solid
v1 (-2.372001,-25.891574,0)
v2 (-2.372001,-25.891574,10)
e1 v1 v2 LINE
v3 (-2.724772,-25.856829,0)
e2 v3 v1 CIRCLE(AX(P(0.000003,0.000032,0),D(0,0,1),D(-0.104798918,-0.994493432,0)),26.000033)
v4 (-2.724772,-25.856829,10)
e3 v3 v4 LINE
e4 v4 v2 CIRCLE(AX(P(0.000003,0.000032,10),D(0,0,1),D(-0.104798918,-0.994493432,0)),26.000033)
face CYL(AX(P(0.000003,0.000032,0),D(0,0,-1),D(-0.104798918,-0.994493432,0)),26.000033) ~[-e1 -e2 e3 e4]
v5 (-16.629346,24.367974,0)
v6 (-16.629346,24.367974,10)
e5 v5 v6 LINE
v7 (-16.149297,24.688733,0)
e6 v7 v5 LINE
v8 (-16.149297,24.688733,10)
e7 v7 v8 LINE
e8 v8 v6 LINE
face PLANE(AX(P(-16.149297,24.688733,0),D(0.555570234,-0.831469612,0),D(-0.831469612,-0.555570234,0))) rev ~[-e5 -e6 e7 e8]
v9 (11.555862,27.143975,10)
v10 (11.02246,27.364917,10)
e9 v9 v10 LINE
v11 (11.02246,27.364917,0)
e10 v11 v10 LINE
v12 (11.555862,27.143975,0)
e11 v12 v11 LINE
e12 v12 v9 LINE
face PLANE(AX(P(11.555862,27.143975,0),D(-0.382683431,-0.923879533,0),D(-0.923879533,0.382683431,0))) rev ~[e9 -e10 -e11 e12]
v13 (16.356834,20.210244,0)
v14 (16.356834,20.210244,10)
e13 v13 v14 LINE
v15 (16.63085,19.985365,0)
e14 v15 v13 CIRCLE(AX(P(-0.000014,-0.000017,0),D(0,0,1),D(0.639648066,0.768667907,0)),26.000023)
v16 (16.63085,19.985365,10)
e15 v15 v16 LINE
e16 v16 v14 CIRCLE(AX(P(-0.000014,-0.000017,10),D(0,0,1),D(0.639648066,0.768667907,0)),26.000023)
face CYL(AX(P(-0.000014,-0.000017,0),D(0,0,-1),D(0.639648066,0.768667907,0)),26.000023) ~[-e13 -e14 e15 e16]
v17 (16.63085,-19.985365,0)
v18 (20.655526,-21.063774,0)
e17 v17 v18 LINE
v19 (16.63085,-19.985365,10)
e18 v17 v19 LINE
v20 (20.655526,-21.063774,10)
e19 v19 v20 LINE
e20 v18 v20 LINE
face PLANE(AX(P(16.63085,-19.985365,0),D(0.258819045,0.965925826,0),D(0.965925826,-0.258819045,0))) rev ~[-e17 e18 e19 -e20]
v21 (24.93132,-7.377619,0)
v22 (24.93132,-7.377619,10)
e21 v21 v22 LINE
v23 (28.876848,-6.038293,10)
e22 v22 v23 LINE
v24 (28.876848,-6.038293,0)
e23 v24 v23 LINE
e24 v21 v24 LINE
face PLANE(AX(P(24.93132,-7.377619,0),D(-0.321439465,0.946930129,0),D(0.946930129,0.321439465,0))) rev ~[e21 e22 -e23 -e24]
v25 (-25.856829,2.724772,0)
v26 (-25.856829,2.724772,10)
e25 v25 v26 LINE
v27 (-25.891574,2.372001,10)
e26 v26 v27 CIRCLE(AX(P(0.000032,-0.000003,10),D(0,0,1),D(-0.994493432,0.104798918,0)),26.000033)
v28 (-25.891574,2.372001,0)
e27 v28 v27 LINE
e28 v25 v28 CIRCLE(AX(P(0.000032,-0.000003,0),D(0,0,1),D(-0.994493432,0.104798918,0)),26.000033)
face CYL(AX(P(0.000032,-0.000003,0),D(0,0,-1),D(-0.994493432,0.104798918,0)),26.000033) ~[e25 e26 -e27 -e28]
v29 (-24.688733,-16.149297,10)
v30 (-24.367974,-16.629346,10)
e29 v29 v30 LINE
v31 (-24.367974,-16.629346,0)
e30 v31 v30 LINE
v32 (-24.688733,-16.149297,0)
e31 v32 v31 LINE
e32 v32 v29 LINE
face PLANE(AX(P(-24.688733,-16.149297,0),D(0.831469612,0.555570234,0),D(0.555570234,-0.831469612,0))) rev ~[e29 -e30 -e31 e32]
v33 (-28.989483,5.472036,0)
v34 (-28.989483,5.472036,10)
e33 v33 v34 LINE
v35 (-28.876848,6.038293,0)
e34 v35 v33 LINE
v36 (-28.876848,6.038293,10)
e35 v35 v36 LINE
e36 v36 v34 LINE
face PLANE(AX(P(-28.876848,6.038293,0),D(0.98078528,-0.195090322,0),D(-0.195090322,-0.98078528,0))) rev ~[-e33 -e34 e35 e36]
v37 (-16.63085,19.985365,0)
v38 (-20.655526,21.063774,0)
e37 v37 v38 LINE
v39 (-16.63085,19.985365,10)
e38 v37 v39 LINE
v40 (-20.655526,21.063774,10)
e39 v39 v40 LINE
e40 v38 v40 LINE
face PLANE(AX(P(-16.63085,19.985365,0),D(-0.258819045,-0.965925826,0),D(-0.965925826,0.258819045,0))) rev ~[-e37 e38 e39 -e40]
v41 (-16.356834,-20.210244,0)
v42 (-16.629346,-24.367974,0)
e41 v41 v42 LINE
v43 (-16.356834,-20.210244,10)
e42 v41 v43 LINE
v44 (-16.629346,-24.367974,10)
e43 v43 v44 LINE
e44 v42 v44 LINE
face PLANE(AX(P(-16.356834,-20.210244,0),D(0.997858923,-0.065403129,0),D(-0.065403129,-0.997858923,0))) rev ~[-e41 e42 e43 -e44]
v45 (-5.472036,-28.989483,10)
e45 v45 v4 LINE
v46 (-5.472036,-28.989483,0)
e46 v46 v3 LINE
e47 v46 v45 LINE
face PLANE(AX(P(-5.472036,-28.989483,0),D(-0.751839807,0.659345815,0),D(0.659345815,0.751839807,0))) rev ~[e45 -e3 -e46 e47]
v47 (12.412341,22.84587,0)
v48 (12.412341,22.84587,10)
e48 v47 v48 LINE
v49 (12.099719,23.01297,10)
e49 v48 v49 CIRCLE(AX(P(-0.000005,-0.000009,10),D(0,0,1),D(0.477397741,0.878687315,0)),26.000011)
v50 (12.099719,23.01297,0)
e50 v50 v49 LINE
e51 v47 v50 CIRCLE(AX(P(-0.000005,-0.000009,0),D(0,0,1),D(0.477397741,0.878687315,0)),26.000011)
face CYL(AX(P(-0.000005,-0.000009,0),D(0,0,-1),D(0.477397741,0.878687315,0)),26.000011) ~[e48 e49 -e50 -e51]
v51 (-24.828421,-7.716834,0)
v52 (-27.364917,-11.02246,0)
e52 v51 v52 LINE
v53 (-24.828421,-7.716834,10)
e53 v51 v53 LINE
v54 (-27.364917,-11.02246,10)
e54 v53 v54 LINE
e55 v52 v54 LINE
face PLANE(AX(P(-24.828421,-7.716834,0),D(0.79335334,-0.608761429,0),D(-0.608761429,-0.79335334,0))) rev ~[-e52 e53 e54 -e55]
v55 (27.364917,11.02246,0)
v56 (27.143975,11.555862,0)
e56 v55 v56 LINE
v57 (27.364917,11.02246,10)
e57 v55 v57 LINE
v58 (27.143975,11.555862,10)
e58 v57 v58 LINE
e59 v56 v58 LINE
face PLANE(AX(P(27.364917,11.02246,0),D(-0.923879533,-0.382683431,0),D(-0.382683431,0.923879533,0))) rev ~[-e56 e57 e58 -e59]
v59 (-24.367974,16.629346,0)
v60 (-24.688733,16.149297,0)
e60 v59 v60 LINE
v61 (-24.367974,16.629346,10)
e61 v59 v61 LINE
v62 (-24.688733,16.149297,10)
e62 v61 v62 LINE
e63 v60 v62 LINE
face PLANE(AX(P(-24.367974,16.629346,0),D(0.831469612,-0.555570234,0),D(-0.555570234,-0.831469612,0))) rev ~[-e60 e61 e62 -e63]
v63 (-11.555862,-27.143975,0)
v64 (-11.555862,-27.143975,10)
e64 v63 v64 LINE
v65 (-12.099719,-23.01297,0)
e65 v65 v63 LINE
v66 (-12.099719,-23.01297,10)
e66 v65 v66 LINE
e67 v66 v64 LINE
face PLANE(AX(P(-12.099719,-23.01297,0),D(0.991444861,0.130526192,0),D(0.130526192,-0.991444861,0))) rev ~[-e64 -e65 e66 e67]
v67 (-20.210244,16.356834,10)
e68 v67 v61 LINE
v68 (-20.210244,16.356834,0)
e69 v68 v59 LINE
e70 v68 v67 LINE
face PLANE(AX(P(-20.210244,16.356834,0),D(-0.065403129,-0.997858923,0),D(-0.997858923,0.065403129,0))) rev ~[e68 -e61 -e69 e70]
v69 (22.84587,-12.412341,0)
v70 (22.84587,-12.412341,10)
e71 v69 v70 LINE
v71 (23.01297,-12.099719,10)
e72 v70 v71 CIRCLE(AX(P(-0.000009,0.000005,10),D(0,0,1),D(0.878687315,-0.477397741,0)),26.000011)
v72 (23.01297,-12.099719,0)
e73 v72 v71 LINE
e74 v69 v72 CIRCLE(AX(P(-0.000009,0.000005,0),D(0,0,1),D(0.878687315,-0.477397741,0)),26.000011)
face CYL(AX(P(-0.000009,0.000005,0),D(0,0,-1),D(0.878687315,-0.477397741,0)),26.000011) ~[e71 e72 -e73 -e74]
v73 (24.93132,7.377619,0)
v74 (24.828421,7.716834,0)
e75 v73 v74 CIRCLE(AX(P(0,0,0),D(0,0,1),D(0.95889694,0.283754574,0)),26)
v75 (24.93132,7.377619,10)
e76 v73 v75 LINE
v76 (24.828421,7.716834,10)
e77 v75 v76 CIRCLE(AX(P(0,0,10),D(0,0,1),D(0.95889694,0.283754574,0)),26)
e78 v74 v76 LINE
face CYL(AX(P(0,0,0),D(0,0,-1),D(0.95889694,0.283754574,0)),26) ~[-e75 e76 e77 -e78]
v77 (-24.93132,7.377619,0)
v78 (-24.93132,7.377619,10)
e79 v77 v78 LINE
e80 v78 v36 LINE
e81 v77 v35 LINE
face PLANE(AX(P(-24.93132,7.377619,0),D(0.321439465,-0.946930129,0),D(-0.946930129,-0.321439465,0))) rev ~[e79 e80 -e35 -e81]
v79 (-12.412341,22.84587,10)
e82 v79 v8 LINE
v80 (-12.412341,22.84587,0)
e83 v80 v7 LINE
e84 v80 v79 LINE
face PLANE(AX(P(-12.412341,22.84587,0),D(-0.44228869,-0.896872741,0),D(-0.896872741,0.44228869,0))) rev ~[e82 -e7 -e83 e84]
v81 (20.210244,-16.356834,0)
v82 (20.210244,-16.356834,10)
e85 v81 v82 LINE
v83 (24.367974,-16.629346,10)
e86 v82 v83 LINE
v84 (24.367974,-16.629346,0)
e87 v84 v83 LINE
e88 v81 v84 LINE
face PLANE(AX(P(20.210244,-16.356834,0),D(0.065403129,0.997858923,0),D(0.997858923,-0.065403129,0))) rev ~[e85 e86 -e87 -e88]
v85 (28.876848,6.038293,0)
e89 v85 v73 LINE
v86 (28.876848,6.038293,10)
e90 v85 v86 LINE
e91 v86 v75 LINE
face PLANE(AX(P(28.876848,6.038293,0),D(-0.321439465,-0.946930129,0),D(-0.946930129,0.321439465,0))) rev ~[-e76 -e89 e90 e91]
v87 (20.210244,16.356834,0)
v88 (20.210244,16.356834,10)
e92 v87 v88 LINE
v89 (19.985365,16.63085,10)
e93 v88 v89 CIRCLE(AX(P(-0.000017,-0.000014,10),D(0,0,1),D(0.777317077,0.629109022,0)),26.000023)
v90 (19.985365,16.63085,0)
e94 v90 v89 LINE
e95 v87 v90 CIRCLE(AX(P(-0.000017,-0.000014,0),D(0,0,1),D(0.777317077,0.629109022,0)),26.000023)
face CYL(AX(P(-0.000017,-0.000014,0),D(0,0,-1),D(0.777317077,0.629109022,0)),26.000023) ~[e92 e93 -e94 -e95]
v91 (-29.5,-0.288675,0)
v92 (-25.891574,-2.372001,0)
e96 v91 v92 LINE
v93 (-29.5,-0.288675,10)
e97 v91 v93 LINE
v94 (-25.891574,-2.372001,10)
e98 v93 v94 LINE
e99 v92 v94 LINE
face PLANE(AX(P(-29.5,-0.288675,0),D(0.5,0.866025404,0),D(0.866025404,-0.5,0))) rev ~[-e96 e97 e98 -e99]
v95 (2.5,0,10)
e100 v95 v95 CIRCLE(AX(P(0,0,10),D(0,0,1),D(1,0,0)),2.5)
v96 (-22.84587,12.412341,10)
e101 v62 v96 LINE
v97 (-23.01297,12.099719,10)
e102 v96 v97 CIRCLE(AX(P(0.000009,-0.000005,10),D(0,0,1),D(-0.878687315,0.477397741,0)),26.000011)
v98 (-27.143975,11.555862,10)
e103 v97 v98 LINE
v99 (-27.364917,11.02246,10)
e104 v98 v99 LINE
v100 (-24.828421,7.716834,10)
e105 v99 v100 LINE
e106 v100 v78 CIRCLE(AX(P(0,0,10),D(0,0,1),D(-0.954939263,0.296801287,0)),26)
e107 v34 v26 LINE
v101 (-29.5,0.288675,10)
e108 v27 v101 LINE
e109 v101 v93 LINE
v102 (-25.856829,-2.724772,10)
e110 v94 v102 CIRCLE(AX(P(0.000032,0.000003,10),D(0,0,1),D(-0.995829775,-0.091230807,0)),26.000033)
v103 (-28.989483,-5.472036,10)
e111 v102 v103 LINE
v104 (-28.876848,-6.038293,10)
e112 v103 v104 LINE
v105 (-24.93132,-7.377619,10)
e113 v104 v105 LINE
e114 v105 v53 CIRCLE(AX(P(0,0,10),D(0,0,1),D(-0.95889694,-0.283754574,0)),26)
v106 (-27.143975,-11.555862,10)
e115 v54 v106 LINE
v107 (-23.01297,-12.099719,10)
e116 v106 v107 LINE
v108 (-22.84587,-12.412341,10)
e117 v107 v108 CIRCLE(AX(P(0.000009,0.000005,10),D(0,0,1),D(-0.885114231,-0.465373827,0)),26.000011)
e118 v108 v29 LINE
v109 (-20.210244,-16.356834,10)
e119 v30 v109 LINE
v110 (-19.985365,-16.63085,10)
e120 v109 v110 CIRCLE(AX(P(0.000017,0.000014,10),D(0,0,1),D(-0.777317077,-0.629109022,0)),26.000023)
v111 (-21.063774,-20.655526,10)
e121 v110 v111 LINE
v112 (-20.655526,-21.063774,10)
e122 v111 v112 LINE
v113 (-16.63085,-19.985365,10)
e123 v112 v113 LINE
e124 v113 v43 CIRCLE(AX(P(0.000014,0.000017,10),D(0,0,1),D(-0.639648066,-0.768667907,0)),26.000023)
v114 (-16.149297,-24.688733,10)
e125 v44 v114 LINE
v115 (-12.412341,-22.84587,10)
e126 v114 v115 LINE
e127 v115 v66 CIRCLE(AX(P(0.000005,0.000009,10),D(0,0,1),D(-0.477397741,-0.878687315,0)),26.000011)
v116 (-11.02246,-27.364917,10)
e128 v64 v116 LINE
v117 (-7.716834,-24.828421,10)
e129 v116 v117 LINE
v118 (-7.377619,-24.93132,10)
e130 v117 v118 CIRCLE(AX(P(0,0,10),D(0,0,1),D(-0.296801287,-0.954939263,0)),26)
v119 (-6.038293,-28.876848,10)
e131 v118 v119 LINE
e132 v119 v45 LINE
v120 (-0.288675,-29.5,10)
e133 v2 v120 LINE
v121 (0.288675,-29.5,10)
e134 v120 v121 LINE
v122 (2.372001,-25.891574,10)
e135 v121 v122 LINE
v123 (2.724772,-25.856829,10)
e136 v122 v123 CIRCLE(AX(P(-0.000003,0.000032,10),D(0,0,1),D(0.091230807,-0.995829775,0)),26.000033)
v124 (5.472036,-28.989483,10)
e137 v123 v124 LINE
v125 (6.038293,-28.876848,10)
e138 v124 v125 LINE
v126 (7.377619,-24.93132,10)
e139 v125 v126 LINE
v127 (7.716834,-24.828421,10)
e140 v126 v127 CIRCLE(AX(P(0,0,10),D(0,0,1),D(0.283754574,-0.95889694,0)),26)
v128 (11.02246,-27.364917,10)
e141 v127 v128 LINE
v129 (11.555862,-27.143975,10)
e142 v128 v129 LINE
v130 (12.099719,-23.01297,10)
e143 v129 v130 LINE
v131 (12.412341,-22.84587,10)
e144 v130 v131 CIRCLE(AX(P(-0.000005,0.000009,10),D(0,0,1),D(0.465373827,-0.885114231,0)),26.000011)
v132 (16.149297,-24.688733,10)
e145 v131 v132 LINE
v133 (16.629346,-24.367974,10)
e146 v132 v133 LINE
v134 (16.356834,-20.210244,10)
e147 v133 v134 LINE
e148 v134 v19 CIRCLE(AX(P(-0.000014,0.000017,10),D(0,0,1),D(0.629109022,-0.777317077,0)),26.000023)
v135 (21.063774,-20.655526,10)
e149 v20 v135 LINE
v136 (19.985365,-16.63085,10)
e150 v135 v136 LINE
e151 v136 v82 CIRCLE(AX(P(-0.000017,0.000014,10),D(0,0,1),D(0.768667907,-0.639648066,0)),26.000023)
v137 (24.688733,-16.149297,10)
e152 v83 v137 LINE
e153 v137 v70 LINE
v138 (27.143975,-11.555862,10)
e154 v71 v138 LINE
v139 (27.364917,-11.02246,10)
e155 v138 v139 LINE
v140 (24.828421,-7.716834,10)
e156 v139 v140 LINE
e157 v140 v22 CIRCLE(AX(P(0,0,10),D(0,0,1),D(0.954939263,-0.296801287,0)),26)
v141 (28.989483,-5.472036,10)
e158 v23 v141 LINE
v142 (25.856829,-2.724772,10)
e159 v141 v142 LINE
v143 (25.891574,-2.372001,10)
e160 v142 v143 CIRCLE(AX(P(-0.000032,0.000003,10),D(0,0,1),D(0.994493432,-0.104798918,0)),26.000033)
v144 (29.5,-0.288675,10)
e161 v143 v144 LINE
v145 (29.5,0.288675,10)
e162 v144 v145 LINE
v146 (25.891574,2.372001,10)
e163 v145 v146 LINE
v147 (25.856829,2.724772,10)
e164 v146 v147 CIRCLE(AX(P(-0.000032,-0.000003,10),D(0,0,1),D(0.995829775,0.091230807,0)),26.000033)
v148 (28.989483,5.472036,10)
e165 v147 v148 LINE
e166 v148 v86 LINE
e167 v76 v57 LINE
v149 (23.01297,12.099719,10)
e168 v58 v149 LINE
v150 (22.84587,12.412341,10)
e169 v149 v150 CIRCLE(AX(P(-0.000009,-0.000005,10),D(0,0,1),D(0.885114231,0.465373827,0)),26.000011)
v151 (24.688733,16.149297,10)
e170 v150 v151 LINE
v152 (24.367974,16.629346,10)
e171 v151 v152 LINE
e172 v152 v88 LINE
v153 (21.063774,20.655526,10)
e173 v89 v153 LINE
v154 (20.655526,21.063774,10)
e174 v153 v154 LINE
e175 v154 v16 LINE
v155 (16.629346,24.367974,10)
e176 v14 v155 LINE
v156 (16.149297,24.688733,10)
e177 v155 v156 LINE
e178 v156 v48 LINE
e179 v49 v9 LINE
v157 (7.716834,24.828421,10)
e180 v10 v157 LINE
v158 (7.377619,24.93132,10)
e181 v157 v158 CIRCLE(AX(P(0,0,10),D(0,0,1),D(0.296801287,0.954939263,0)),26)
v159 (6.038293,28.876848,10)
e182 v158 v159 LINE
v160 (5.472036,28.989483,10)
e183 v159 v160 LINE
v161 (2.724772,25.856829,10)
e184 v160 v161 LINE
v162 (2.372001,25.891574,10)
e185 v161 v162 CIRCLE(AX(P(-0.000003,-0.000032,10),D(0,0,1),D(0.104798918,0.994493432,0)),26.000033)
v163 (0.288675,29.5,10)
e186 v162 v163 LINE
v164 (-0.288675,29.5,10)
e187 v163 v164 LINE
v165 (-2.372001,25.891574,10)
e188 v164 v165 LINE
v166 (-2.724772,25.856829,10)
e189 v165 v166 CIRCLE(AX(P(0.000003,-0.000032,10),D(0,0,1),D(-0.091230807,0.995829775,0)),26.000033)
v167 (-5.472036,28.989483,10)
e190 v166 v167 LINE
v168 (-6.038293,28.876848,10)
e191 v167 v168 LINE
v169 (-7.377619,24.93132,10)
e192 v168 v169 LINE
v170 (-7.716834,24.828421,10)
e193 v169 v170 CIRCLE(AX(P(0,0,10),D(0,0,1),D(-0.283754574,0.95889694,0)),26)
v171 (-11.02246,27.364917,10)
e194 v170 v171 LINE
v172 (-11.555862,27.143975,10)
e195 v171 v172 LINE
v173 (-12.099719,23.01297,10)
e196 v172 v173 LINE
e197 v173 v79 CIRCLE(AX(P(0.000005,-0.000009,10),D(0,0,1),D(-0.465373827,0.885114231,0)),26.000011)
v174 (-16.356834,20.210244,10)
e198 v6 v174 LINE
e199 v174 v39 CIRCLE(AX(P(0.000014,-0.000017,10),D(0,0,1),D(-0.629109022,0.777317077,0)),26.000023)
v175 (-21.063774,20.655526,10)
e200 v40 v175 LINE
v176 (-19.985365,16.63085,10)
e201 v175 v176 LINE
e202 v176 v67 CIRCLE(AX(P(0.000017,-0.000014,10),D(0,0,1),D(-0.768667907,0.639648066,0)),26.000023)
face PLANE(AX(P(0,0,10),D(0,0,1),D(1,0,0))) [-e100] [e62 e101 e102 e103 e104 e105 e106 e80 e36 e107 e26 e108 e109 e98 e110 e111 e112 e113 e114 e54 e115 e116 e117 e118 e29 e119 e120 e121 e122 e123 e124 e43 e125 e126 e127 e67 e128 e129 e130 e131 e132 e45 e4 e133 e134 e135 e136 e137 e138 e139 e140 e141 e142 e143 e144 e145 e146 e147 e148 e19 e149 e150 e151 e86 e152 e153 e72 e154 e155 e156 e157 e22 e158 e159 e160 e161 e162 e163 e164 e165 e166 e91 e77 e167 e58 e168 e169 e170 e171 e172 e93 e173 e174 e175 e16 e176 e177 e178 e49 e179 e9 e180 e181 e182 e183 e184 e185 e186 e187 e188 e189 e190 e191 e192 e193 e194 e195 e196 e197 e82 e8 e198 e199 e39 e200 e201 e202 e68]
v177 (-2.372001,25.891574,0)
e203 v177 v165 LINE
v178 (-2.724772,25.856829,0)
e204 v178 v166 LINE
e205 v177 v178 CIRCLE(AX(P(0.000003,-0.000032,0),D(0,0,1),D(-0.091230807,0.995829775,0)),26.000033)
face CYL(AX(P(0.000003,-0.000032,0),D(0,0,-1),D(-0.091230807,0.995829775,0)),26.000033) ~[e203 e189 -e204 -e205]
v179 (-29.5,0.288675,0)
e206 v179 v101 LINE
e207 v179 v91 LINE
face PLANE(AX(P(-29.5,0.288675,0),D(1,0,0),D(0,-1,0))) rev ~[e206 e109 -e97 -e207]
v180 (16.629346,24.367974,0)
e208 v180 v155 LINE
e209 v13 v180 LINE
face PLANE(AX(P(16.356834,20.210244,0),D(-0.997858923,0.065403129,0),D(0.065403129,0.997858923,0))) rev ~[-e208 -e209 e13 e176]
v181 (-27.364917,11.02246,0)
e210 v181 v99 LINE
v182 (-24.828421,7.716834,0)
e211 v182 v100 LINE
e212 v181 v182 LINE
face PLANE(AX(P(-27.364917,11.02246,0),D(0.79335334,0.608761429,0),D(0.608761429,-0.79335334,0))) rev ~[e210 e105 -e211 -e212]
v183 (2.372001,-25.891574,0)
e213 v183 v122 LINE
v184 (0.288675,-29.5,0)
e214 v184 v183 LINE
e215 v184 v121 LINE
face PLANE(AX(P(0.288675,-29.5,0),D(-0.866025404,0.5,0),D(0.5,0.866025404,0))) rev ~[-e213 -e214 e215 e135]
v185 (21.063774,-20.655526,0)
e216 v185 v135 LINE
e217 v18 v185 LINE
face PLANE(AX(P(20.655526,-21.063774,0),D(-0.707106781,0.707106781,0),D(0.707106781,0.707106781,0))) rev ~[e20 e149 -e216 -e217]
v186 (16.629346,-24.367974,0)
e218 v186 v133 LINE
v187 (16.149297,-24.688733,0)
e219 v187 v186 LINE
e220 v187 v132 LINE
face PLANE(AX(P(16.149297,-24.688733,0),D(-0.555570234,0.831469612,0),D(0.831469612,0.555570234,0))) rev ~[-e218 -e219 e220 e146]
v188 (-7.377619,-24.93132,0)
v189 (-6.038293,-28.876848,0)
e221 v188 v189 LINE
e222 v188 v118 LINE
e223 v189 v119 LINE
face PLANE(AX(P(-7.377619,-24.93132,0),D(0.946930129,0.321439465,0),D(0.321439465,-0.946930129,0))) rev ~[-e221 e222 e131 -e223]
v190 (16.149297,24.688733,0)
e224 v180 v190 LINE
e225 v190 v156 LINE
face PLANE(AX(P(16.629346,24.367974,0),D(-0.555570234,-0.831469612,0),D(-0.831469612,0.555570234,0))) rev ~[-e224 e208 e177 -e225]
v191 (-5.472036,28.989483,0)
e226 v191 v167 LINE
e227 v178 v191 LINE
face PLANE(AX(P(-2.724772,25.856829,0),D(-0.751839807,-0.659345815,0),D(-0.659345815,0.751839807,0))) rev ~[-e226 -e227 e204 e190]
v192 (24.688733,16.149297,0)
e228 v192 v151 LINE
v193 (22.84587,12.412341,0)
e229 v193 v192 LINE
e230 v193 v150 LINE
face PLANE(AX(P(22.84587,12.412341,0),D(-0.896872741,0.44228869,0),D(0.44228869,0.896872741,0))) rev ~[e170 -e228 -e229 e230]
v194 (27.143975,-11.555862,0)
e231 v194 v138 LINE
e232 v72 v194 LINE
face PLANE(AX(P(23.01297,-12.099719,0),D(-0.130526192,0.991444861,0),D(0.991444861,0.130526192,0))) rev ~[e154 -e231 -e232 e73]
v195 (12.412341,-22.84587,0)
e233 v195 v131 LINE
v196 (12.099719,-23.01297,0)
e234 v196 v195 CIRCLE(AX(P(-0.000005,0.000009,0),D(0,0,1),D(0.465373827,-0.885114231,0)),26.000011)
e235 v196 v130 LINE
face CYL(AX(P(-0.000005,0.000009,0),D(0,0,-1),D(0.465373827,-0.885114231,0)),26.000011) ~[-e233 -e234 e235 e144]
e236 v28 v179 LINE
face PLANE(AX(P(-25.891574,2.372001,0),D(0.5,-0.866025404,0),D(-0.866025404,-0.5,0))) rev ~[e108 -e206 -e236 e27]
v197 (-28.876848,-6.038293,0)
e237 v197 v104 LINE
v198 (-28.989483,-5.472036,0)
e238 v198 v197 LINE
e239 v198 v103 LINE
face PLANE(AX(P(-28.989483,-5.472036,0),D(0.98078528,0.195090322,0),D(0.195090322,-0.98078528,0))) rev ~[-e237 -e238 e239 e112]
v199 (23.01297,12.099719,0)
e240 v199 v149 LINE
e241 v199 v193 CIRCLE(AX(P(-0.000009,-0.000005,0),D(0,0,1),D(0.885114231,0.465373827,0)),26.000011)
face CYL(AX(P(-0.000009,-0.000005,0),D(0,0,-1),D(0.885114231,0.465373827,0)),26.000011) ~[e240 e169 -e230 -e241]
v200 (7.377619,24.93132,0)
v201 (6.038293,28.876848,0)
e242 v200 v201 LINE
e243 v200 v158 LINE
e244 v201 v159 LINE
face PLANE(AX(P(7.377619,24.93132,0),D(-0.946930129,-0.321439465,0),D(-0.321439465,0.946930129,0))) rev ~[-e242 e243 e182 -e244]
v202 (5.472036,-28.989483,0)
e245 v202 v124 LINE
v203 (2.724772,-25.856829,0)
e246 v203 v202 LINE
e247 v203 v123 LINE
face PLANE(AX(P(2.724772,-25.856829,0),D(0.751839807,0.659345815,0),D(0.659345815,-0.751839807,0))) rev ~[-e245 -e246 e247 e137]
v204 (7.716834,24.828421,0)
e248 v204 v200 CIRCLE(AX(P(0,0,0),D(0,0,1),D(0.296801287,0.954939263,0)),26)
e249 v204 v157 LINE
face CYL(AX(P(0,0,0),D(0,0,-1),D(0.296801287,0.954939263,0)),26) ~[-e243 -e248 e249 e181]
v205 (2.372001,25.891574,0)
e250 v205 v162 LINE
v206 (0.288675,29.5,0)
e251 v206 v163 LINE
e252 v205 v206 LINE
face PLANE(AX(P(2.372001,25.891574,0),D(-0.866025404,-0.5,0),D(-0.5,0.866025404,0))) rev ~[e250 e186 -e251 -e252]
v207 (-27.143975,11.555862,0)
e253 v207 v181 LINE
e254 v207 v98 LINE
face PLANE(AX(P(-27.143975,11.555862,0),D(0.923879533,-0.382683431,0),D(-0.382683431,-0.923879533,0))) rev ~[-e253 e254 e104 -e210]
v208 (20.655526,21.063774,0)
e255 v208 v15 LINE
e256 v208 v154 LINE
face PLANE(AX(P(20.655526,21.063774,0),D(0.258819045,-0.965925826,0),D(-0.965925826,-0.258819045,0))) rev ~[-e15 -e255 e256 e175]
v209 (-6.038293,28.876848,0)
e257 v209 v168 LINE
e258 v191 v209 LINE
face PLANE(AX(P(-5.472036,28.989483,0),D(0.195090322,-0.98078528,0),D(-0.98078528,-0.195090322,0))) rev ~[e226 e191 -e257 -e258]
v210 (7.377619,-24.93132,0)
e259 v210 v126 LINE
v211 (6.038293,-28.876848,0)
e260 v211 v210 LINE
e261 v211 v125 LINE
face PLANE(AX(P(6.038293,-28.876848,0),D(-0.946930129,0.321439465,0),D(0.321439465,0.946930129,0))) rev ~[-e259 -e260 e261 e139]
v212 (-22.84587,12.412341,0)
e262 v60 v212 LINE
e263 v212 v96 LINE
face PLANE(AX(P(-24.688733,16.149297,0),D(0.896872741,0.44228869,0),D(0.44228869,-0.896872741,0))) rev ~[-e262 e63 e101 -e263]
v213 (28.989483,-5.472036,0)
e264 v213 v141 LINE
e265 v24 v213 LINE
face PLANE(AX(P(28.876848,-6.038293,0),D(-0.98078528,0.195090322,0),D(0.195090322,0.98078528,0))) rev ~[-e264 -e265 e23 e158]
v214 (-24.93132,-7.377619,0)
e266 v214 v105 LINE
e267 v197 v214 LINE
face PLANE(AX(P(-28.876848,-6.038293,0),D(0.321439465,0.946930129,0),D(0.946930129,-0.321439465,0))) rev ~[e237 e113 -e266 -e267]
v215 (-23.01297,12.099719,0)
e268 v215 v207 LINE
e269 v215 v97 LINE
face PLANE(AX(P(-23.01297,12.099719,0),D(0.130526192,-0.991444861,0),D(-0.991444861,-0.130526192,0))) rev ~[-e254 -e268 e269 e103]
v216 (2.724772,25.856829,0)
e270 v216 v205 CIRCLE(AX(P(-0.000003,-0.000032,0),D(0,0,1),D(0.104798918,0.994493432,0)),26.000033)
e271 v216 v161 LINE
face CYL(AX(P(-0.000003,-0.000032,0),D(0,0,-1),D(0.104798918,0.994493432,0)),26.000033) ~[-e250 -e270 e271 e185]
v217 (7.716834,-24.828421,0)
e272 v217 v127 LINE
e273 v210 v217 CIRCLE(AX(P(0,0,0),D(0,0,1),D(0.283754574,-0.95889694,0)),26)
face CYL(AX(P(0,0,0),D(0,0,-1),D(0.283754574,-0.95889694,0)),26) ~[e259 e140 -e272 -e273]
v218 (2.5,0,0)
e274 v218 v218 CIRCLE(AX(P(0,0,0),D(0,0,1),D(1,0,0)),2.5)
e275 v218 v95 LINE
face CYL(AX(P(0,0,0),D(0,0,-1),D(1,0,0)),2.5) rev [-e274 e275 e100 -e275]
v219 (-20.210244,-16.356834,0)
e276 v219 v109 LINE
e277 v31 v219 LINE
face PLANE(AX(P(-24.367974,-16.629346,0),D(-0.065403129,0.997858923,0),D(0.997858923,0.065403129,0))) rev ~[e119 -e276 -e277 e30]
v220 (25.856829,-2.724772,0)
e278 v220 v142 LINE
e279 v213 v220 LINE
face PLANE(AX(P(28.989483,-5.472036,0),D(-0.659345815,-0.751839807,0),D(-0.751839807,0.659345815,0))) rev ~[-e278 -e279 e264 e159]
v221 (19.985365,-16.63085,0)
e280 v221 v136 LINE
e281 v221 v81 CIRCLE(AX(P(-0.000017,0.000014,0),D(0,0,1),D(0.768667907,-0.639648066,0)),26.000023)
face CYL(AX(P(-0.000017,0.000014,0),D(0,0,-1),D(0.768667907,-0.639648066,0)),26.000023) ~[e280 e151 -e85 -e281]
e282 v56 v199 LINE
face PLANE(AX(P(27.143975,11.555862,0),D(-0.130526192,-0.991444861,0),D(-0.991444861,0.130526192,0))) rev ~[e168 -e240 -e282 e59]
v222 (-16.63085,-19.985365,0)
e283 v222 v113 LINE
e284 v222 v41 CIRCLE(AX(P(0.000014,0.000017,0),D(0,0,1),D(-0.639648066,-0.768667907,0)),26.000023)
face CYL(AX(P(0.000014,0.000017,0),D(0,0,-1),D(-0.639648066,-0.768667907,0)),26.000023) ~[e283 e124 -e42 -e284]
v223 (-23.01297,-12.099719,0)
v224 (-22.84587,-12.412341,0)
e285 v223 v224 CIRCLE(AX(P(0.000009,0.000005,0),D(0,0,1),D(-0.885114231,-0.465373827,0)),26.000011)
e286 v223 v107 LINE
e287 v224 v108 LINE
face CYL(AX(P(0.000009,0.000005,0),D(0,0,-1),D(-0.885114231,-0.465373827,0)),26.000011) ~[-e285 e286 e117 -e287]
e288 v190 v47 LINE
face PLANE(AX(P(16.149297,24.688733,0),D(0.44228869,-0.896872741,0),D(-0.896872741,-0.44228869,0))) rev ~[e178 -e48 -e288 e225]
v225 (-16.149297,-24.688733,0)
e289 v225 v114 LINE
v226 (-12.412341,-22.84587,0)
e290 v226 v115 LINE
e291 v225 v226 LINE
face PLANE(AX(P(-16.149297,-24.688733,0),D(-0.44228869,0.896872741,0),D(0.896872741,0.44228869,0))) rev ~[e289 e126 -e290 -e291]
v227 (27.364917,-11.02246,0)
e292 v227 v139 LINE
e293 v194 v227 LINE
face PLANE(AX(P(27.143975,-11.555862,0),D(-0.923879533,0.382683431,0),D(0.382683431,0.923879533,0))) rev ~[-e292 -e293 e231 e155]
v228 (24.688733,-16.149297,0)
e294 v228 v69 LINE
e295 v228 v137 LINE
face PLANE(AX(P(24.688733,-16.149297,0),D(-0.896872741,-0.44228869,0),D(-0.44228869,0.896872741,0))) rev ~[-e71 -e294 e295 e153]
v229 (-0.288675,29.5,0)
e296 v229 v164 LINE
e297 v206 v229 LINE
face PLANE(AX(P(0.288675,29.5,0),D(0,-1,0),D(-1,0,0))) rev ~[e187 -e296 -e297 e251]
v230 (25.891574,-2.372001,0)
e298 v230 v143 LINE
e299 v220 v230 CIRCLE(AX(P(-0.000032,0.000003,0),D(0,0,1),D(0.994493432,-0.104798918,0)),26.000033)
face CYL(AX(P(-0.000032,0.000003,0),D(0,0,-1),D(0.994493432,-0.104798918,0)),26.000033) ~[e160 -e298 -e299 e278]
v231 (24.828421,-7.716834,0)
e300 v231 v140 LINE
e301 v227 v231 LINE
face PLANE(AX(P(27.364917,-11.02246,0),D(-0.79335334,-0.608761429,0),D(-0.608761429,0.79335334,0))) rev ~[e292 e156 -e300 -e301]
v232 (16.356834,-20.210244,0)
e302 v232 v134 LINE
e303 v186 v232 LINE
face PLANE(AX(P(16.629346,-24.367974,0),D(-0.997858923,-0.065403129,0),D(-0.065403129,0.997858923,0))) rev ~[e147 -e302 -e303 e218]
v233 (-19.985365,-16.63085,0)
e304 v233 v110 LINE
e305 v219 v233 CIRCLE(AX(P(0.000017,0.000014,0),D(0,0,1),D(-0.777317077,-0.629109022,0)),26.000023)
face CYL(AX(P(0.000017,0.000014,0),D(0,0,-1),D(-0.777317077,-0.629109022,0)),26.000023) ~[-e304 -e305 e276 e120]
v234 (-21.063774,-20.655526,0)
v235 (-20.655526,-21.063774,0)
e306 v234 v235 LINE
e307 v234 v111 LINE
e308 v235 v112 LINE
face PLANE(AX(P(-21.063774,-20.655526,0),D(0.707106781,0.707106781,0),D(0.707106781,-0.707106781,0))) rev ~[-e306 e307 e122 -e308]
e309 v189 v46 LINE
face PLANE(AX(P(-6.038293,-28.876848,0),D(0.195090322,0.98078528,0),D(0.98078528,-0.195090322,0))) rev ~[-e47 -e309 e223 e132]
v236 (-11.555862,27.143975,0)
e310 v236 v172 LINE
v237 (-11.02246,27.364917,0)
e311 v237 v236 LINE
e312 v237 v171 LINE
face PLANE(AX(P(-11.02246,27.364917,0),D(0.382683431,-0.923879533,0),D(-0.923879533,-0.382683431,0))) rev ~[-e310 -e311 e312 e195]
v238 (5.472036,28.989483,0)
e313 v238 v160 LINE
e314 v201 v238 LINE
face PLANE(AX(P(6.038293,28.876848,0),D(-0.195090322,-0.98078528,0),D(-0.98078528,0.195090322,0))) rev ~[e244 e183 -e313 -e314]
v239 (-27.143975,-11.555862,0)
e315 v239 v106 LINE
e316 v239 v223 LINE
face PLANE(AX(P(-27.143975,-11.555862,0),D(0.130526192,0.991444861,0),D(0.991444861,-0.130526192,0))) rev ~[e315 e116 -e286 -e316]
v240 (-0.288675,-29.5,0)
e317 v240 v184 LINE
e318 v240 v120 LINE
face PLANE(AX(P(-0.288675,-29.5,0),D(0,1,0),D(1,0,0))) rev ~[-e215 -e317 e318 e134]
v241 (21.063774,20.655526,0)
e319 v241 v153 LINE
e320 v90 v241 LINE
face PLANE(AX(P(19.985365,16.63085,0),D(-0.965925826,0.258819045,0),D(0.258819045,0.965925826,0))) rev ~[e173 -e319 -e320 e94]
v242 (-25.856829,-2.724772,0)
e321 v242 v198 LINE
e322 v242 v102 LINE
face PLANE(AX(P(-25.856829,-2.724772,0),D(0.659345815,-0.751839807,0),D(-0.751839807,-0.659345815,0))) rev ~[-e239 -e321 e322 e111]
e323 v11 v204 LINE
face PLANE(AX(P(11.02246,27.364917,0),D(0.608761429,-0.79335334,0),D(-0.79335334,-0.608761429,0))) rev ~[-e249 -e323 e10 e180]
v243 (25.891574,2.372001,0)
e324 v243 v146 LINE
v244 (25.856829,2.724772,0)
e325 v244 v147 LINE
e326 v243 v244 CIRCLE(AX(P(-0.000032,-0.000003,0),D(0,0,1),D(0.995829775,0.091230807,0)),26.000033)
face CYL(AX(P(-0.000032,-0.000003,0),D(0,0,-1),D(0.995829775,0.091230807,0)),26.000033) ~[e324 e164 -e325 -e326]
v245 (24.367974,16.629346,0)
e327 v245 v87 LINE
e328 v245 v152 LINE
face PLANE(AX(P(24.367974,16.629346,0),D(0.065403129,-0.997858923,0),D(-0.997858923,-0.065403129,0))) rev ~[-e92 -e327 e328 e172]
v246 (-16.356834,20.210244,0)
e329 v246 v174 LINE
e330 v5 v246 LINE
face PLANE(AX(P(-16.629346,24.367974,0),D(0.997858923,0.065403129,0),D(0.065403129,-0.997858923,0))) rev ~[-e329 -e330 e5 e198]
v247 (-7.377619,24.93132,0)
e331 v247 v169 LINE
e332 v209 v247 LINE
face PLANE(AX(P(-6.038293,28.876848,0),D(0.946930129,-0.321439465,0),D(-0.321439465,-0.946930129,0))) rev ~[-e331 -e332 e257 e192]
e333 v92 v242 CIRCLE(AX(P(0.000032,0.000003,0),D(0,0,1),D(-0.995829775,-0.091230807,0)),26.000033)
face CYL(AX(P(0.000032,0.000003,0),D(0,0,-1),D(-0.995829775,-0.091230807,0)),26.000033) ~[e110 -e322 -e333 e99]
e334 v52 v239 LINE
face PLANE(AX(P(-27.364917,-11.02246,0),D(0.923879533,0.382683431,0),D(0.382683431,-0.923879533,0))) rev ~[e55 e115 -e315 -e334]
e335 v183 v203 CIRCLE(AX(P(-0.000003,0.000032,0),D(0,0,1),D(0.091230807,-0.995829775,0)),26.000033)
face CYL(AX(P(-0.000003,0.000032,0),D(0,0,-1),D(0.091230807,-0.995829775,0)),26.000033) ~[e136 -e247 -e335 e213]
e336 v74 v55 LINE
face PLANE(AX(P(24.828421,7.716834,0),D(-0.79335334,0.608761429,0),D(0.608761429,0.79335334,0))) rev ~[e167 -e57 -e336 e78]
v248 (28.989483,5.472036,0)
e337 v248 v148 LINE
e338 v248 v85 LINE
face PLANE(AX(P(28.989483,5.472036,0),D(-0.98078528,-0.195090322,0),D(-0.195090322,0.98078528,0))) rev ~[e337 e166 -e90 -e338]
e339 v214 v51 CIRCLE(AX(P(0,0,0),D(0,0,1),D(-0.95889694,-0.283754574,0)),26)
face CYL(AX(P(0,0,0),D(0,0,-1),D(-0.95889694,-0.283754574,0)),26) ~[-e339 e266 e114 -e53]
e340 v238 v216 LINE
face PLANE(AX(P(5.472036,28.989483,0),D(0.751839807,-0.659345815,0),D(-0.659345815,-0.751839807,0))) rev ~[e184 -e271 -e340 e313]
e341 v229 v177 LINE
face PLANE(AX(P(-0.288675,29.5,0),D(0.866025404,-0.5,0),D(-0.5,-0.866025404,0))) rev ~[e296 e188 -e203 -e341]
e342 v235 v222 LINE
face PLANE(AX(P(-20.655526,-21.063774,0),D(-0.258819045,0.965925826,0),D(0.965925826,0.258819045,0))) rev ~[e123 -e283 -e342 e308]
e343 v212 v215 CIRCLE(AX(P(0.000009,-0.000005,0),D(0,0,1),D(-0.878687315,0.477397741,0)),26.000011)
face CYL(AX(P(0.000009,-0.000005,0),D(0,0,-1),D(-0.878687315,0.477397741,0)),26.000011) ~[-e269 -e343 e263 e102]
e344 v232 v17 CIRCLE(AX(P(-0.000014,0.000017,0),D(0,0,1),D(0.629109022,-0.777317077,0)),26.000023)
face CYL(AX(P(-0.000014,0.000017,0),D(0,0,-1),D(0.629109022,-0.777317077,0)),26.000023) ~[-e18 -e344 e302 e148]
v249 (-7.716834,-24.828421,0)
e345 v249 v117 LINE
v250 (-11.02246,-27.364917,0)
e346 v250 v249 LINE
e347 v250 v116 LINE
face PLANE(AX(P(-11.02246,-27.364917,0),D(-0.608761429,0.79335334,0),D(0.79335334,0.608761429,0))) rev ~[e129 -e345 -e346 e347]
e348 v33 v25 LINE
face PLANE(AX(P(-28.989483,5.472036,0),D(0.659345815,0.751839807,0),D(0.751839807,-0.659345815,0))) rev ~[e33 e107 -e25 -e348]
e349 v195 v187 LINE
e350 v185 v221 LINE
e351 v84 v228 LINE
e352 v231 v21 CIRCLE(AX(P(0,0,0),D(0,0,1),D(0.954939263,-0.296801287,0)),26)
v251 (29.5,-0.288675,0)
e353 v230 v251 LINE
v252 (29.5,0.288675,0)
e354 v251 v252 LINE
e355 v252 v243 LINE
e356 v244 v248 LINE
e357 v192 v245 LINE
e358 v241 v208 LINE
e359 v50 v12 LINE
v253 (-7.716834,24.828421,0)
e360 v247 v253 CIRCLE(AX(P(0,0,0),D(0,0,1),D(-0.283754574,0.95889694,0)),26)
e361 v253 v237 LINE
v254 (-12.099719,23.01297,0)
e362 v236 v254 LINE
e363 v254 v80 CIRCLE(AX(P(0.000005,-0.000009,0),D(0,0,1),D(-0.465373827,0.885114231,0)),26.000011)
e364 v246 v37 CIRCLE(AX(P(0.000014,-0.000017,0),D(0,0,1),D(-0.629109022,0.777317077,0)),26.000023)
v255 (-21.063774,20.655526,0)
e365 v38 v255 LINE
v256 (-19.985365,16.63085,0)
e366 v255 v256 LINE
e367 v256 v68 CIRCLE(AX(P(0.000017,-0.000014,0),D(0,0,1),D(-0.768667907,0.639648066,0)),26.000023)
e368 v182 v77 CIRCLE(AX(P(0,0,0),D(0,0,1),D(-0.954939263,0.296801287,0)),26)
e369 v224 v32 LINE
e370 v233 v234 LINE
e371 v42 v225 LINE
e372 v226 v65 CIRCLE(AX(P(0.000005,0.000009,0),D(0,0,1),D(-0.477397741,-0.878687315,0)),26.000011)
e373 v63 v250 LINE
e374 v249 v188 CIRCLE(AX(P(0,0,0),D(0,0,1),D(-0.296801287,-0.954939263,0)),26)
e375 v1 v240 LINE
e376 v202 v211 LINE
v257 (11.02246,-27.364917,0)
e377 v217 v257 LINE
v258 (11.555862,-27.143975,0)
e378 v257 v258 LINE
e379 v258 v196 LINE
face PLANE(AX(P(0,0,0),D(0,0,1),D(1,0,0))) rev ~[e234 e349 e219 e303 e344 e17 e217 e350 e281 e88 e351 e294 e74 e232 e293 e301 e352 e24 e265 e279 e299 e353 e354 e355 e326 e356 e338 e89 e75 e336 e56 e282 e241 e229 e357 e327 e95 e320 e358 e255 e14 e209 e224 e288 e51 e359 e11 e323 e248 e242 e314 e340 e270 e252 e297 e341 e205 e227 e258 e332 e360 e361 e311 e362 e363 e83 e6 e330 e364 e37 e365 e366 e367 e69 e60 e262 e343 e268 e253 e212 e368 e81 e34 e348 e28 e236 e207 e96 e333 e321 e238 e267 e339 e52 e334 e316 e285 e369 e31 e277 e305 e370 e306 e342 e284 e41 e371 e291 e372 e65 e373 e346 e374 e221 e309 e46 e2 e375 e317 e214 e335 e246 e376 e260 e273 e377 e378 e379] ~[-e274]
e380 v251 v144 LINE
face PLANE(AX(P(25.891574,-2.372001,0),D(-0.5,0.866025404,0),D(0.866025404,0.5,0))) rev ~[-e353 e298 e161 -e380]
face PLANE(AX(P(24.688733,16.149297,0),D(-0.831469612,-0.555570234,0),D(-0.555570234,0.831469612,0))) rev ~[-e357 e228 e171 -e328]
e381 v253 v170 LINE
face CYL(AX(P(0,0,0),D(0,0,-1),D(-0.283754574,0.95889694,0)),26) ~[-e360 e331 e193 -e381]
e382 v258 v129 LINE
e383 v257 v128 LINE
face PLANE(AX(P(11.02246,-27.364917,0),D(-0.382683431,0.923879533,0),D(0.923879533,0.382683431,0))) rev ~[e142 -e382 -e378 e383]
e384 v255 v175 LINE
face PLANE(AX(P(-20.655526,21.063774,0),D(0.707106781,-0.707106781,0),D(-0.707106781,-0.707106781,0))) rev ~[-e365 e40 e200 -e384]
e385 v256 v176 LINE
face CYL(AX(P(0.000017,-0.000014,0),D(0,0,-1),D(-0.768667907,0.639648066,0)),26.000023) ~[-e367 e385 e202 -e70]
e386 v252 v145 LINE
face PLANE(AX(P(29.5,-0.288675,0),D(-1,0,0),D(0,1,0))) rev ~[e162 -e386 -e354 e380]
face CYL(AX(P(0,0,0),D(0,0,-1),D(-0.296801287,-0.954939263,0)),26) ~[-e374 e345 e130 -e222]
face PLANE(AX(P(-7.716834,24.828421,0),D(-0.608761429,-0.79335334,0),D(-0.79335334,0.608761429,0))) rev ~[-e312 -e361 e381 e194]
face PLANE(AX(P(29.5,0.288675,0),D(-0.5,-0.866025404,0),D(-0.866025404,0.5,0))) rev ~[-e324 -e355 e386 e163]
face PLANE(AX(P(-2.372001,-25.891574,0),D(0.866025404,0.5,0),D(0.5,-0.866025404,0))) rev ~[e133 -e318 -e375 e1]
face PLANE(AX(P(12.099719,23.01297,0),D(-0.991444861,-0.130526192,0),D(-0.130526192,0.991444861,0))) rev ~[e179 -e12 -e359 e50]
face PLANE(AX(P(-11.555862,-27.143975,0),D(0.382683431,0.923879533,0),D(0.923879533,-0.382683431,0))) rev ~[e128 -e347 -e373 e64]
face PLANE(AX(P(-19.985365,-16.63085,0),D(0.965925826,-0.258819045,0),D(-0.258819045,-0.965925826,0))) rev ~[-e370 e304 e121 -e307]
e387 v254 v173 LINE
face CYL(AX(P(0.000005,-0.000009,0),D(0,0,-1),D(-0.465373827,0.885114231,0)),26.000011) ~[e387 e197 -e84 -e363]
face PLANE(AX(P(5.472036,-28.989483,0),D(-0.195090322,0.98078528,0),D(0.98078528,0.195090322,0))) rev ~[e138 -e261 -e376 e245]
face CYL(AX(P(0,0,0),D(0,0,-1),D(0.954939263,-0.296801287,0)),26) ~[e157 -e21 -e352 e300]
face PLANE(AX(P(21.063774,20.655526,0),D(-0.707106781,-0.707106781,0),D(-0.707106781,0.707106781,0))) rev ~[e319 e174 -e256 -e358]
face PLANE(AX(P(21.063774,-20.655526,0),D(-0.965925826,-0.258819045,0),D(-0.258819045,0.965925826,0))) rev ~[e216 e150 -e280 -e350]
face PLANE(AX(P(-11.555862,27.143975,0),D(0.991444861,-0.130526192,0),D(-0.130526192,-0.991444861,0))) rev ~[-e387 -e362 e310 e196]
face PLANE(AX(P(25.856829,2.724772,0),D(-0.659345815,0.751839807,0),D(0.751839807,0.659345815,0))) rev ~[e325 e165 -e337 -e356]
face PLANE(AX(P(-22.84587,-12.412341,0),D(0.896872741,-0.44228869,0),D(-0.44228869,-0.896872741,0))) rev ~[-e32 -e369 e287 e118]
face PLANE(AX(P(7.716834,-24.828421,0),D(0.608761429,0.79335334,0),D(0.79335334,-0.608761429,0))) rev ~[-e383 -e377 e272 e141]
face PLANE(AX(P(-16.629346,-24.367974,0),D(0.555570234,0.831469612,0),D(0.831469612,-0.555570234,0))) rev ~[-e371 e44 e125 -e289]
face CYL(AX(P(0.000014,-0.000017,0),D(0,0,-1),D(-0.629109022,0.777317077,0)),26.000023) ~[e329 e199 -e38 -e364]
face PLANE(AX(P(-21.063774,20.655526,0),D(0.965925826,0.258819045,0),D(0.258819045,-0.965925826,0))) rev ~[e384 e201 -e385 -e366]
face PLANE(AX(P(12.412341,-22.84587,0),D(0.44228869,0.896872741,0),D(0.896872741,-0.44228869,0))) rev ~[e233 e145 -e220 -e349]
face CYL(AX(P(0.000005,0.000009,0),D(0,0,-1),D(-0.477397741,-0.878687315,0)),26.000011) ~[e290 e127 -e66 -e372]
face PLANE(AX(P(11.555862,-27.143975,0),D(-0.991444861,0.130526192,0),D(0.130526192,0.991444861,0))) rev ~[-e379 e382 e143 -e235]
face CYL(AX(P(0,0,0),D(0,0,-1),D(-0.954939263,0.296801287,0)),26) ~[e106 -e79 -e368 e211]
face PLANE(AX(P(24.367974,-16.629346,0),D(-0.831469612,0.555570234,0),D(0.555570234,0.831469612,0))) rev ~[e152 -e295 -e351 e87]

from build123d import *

# Parameters (mm, degrees)
SKETCH1_R           = 2.5
BOSS_EXTRUDE1_DEPTH = 10


with BuildPart() as part:
    # Sketch1 → Boss-Extrude1 (new body)
    with BuildSketch(Plane.XY):
        with BuildLine():
            Line((-28.989483497, 5.472036177), (-25.856829214, 2.724772104))
            ThreePointArc((-25.856829214, 2.724772104), (-25.874802893, 2.548445649), (-25.891574158, 2.372000766))
            Line((-25.891574158, 2.372000766), (-29.5, 0.288675135))
            Line((-29.5, 0.288675135), (-29.5, -0.288675135))
            Line((-29.5, -0.288675135), (-25.891574158, -2.372000766))
            ThreePointArc((-25.891574158, -2.372000766), (-25.874802893, -2.548445649), (-25.856829214, -2.724772104))
            Line((-25.856829214, -2.724772104), (-28.989483497, -5.472036177))
            Line((-28.989483497, -5.472036177), (-28.876848047, -6.038292822))
            Line((-28.876848047, -6.038292822), (-24.931320427, -7.377618976))
            ThreePointArc((-24.931320427, -7.377618976), (-24.880448729, -7.547401609), (-24.828420824, -7.716833509))
            Line((-24.828420824, -7.716833509), (-27.3649174, -11.022460206))
            Line((-27.3649174, -11.022460206), (-27.143975018, -11.555862303))
            Line((-27.143975018, -11.555862303), (-23.012970034, -12.099719427))
            ThreePointArc((-23.012970034, -12.099719427), (-22.929952873, -12.256315157), (-22.845870145, -12.412341331))
            Line((-22.845870145, -12.412341331), (-24.688732875, -16.149297272))
            Line((-24.688732875, -16.149297272), (-24.367974251, -16.629346476))
            Line((-24.367974251, -16.629346476), (-20.210244109, -16.356834445))
            ThreePointArc((-20.210244109, -16.356834445), (-20.098271787, -16.494225388), (-19.985365489, -16.630849836))
            Line((-19.985365489, -16.630849836), (-21.06377419, -20.6555259))
            Line((-21.06377419, -20.6555259), (-20.6555259, -21.06377419))
            Line((-20.6555259, -21.06377419), (-16.630849836, -19.985365489))
            ThreePointArc((-16.630849836, -19.985365489), (-16.494225388, -20.098271787), (-16.356834445, -20.210244109))
            Line((-16.356834445, -20.210244109), (-16.629346476, -24.367974251))
            Line((-16.629346476, -24.367974251), (-16.149297272, -24.688732875))
            Line((-16.149297272, -24.688732875), (-12.412341331, -22.845870145))
            ThreePointArc((-12.412341331, -22.845870145), (-12.256315157, -22.929952873), (-12.099719427, -23.012970034))
            Line((-12.099719427, -23.012970034), (-11.555862303, -27.143975018))
            Line((-11.555862303, -27.143975018), (-11.022460206, -27.3649174))
            Line((-11.022460206, -27.3649174), (-7.716833509, -24.828420824))
            ThreePointArc((-7.716833509, -24.828420824), (-7.547401609, -24.880448729), (-7.377618976, -24.931320427))
            Line((-7.377618976, -24.931320427), (-6.038292822, -28.876848047))
            Line((-6.038292822, -28.876848047), (-5.472036177, -28.989483497))
            Line((-5.472036177, -28.989483497), (-2.724772104, -25.856829214))
            ThreePointArc((-2.724772104, -25.856829214), (-2.548445649, -25.874802893), (-2.372000766, -25.891574158))
            Line((-2.372000766, -25.891574158), (-0.288675135, -29.5))
            Line((-0.288675135, -29.5), (0.288675135, -29.5))
            Line((0.288675135, -29.5), (2.372000766, -25.891574158))
            ThreePointArc((2.372000766, -25.891574158), (2.548445649, -25.874802893), (2.724772104, -25.856829214))
            Line((2.724772104, -25.856829214), (5.472036177, -28.989483497))
            Line((5.472036177, -28.989483497), (6.038292822, -28.876848047))
            Line((6.038292822, -28.876848047), (7.377618976, -24.931320427))
            ThreePointArc((7.377618976, -24.931320427), (7.547401609, -24.880448729), (7.716833509, -24.828420824))
            Line((7.716833509, -24.828420824), (11.022460206, -27.3649174))
            Line((11.022460206, -27.3649174), (11.555862303, -27.143975018))
            Line((11.555862303, -27.143975018), (12.099719427, -23.012970034))
            ThreePointArc((12.099719427, -23.012970034), (12.256315157, -22.929952873), (12.412341331, -22.845870145))
            Line((12.412341331, -22.845870145), (16.149297272, -24.688732875))
            Line((16.149297272, -24.688732875), (16.629346476, -24.367974251))
            Line((16.629346476, -24.367974251), (16.356834445, -20.210244109))
            ThreePointArc((16.356834445, -20.210244109), (16.494225388, -20.098271787), (16.630849836, -19.985365489))
            Line((16.630849836, -19.985365489), (20.6555259, -21.06377419))
            Line((20.6555259, -21.06377419), (21.06377419, -20.6555259))
            Line((21.06377419, -20.6555259), (19.985365489, -16.630849836))
            ThreePointArc((19.985365489, -16.630849836), (20.098271787, -16.494225388), (20.210244109, -16.356834445))
            Line((20.210244109, -16.356834445), (24.367974251, -16.629346476))
            Line((24.367974251, -16.629346476), (24.688732875, -16.149297272))
            Line((24.688732875, -16.149297272), (22.845870145, -12.412341331))
            ThreePointArc((22.845870145, -12.412341331), (22.929952873, -12.256315157), (23.012970034, -12.099719427))
            Line((23.012970034, -12.099719427), (27.143975018, -11.555862303))
            Line((27.143975018, -11.555862303), (27.3649174, -11.022460206))
            Line((27.3649174, -11.022460206), (24.828420824, -7.716833509))
            ThreePointArc((24.828420824, -7.716833509), (24.880448729, -7.547401609), (24.931320427, -7.377618976))
            Line((24.931320427, -7.377618976), (28.876848047, -6.038292822))
            Line((28.876848047, -6.038292822), (28.989483497, -5.472036177))
            Line((28.989483497, -5.472036177), (25.856829214, -2.724772104))
            ThreePointArc((25.856829214, -2.724772104), (25.874802893, -2.548445649), (25.891574158, -2.372000766))
            Line((25.891574158, -2.372000766), (29.5, -0.288675135))
            Line((29.5, -0.288675135), (29.5, 0.288675135))
            Line((29.5, 0.288675135), (25.891574158, 2.372000766))
            ThreePointArc((25.891574158, 2.372000766), (25.874802893, 2.548445649), (25.856829214, 2.724772104))
            Line((25.856829214, 2.724772104), (28.989483497, 5.472036177))
            Line((28.989483497, 5.472036177), (28.876848047, 6.038292822))
            Line((28.876848047, 6.038292822), (24.931320427, 7.377618976))
            ThreePointArc((24.931320427, 7.377618976), (24.880448729, 7.547401609), (24.828420824, 7.716833509))
            Line((24.828420824, 7.716833509), (27.3649174, 11.022460206))
            Line((27.3649174, 11.022460206), (27.143975018, 11.555862303))
            Line((27.143975018, 11.555862303), (23.012970034, 12.099719427))
            ThreePointArc((23.012970034, 12.099719427), (22.929952873, 12.256315157), (22.845870145, 12.412341331))
            Line((22.845870145, 12.412341331), (24.688732875, 16.149297272))
            Line((24.688732875, 16.149297272), (24.367974251, 16.629346476))
            Line((24.367974251, 16.629346476), (20.210244109, 16.356834445))
            ThreePointArc((20.210244109, 16.356834445), (20.098271787, 16.494225388), (19.985365489, 16.630849836))
            Line((19.985365489, 16.630849836), (21.06377419, 20.6555259))
            Line((21.06377419, 20.6555259), (20.6555259, 21.06377419))
            Line((20.6555259, 21.06377419), (16.630849836, 19.985365489))
            ThreePointArc((16.630849836, 19.985365489), (16.494225388, 20.098271787), (16.356834445, 20.210244109))
            Line((16.356834445, 20.210244109), (16.629346476, 24.367974251))
            Line((16.629346476, 24.367974251), (16.149297272, 24.688732875))
            Line((16.149297272, 24.688732875), (12.412341331, 22.845870145))
            ThreePointArc((12.412341331, 22.845870145), (12.256315157, 22.929952873), (12.099719427, 23.012970034))
            Line((12.099719427, 23.012970034), (11.555862303, 27.143975018))
            Line((11.555862303, 27.143975018), (11.022460206, 27.3649174))
            Line((11.022460206, 27.3649174), (7.716833509, 24.828420824))
            ThreePointArc((7.716833509, 24.828420824), (7.547401609, 24.880448729), (7.377618976, 24.931320427))
            Line((7.377618976, 24.931320427), (6.038292822, 28.876848047))
            Line((6.038292822, 28.876848047), (5.472036177, 28.989483497))
            Line((5.472036177, 28.989483497), (2.724772104, 25.856829214))
            ThreePointArc((2.724772104, 25.856829214), (2.548445649, 25.874802893), (2.372000766, 25.891574158))
            Line((2.372000766, 25.891574158), (0.288675135, 29.5))
            Line((0.288675135, 29.5), (-0.288675135, 29.5))
            Line((-0.288675135, 29.5), (-2.372000766, 25.891574158))
            ThreePointArc((-2.372000766, 25.891574158), (-2.548445649, 25.874802893), (-2.724772104, 25.856829214))
            Line((-2.724772104, 25.856829214), (-5.472036177, 28.989483497))
            Line((-5.472036177, 28.989483497), (-6.038292822, 28.876848047))
            Line((-6.038292822, 28.876848047), (-7.377618976, 24.931320427))
            ThreePointArc((-7.377618976, 24.931320427), (-7.547401609, 24.880448729), (-7.716833509, 24.828420824))
            Line((-7.716833509, 24.828420824), (-11.022460206, 27.3649174))
            Line((-11.022460206, 27.3649174), (-11.555862303, 27.143975018))
            Line((-11.555862303, 27.143975018), (-12.099719427, 23.012970034))
            ThreePointArc((-12.099719427, 23.012970034), (-12.256315157, 22.929952873), (-12.412341331, 22.845870145))
            Line((-12.412341331, 22.845870145), (-16.149297272, 24.688732875))
            Line((-16.149297272, 24.688732875), (-16.629346476, 24.367974251))
            Line((-16.629346476, 24.367974251), (-16.356834445, 20.210244109))
            ThreePointArc((-16.356834445, 20.210244109), (-16.494225388, 20.098271787), (-16.630849836, 19.985365489))
            Line((-16.630849836, 19.985365489), (-20.6555259, 21.06377419))
            Line((-20.6555259, 21.06377419), (-21.06377419, 20.6555259))
            Line((-21.06377419, 20.6555259), (-19.985365489, 16.630849836))
            ThreePointArc((-19.985365489, 16.630849836), (-20.098271787, 16.494225388), (-20.210244109, 16.356834445))
            Line((-20.210244109, 16.356834445), (-24.367974251, 16.629346476))
            Line((-24.367974251, 16.629346476), (-24.688732875, 16.149297272))
            Line((-24.688732875, 16.149297272), (-22.845870145, 12.412341331))
            ThreePointArc((-22.845870145, 12.412341331), (-22.929952873, 12.256315157), (-23.012970034, 12.099719427))
            Line((-23.012970034, 12.099719427), (-27.143975018, 11.555862303))
            Line((-27.143975018, 11.555862303), (-27.3649174, 11.022460206))
            Line((-27.3649174, 11.022460206), (-24.828420824, 7.716833509))
            ThreePointArc((-24.828420824, 7.716833509), (-24.880448729, 7.547401609), (-24.931320427, 7.377618976))
            Line((-24.931320427, 7.377618976), (-28.876848047, 6.038292822))
            Line((-28.876848047, 6.038292822), (-28.989483497, 5.472036177))
        make_face()
        Circle(SKETCH1_R, mode=Mode.SUBTRACT)
    extrude(amount=BOSS_EXTRUDE1_DEPTH)


solid = part.part
